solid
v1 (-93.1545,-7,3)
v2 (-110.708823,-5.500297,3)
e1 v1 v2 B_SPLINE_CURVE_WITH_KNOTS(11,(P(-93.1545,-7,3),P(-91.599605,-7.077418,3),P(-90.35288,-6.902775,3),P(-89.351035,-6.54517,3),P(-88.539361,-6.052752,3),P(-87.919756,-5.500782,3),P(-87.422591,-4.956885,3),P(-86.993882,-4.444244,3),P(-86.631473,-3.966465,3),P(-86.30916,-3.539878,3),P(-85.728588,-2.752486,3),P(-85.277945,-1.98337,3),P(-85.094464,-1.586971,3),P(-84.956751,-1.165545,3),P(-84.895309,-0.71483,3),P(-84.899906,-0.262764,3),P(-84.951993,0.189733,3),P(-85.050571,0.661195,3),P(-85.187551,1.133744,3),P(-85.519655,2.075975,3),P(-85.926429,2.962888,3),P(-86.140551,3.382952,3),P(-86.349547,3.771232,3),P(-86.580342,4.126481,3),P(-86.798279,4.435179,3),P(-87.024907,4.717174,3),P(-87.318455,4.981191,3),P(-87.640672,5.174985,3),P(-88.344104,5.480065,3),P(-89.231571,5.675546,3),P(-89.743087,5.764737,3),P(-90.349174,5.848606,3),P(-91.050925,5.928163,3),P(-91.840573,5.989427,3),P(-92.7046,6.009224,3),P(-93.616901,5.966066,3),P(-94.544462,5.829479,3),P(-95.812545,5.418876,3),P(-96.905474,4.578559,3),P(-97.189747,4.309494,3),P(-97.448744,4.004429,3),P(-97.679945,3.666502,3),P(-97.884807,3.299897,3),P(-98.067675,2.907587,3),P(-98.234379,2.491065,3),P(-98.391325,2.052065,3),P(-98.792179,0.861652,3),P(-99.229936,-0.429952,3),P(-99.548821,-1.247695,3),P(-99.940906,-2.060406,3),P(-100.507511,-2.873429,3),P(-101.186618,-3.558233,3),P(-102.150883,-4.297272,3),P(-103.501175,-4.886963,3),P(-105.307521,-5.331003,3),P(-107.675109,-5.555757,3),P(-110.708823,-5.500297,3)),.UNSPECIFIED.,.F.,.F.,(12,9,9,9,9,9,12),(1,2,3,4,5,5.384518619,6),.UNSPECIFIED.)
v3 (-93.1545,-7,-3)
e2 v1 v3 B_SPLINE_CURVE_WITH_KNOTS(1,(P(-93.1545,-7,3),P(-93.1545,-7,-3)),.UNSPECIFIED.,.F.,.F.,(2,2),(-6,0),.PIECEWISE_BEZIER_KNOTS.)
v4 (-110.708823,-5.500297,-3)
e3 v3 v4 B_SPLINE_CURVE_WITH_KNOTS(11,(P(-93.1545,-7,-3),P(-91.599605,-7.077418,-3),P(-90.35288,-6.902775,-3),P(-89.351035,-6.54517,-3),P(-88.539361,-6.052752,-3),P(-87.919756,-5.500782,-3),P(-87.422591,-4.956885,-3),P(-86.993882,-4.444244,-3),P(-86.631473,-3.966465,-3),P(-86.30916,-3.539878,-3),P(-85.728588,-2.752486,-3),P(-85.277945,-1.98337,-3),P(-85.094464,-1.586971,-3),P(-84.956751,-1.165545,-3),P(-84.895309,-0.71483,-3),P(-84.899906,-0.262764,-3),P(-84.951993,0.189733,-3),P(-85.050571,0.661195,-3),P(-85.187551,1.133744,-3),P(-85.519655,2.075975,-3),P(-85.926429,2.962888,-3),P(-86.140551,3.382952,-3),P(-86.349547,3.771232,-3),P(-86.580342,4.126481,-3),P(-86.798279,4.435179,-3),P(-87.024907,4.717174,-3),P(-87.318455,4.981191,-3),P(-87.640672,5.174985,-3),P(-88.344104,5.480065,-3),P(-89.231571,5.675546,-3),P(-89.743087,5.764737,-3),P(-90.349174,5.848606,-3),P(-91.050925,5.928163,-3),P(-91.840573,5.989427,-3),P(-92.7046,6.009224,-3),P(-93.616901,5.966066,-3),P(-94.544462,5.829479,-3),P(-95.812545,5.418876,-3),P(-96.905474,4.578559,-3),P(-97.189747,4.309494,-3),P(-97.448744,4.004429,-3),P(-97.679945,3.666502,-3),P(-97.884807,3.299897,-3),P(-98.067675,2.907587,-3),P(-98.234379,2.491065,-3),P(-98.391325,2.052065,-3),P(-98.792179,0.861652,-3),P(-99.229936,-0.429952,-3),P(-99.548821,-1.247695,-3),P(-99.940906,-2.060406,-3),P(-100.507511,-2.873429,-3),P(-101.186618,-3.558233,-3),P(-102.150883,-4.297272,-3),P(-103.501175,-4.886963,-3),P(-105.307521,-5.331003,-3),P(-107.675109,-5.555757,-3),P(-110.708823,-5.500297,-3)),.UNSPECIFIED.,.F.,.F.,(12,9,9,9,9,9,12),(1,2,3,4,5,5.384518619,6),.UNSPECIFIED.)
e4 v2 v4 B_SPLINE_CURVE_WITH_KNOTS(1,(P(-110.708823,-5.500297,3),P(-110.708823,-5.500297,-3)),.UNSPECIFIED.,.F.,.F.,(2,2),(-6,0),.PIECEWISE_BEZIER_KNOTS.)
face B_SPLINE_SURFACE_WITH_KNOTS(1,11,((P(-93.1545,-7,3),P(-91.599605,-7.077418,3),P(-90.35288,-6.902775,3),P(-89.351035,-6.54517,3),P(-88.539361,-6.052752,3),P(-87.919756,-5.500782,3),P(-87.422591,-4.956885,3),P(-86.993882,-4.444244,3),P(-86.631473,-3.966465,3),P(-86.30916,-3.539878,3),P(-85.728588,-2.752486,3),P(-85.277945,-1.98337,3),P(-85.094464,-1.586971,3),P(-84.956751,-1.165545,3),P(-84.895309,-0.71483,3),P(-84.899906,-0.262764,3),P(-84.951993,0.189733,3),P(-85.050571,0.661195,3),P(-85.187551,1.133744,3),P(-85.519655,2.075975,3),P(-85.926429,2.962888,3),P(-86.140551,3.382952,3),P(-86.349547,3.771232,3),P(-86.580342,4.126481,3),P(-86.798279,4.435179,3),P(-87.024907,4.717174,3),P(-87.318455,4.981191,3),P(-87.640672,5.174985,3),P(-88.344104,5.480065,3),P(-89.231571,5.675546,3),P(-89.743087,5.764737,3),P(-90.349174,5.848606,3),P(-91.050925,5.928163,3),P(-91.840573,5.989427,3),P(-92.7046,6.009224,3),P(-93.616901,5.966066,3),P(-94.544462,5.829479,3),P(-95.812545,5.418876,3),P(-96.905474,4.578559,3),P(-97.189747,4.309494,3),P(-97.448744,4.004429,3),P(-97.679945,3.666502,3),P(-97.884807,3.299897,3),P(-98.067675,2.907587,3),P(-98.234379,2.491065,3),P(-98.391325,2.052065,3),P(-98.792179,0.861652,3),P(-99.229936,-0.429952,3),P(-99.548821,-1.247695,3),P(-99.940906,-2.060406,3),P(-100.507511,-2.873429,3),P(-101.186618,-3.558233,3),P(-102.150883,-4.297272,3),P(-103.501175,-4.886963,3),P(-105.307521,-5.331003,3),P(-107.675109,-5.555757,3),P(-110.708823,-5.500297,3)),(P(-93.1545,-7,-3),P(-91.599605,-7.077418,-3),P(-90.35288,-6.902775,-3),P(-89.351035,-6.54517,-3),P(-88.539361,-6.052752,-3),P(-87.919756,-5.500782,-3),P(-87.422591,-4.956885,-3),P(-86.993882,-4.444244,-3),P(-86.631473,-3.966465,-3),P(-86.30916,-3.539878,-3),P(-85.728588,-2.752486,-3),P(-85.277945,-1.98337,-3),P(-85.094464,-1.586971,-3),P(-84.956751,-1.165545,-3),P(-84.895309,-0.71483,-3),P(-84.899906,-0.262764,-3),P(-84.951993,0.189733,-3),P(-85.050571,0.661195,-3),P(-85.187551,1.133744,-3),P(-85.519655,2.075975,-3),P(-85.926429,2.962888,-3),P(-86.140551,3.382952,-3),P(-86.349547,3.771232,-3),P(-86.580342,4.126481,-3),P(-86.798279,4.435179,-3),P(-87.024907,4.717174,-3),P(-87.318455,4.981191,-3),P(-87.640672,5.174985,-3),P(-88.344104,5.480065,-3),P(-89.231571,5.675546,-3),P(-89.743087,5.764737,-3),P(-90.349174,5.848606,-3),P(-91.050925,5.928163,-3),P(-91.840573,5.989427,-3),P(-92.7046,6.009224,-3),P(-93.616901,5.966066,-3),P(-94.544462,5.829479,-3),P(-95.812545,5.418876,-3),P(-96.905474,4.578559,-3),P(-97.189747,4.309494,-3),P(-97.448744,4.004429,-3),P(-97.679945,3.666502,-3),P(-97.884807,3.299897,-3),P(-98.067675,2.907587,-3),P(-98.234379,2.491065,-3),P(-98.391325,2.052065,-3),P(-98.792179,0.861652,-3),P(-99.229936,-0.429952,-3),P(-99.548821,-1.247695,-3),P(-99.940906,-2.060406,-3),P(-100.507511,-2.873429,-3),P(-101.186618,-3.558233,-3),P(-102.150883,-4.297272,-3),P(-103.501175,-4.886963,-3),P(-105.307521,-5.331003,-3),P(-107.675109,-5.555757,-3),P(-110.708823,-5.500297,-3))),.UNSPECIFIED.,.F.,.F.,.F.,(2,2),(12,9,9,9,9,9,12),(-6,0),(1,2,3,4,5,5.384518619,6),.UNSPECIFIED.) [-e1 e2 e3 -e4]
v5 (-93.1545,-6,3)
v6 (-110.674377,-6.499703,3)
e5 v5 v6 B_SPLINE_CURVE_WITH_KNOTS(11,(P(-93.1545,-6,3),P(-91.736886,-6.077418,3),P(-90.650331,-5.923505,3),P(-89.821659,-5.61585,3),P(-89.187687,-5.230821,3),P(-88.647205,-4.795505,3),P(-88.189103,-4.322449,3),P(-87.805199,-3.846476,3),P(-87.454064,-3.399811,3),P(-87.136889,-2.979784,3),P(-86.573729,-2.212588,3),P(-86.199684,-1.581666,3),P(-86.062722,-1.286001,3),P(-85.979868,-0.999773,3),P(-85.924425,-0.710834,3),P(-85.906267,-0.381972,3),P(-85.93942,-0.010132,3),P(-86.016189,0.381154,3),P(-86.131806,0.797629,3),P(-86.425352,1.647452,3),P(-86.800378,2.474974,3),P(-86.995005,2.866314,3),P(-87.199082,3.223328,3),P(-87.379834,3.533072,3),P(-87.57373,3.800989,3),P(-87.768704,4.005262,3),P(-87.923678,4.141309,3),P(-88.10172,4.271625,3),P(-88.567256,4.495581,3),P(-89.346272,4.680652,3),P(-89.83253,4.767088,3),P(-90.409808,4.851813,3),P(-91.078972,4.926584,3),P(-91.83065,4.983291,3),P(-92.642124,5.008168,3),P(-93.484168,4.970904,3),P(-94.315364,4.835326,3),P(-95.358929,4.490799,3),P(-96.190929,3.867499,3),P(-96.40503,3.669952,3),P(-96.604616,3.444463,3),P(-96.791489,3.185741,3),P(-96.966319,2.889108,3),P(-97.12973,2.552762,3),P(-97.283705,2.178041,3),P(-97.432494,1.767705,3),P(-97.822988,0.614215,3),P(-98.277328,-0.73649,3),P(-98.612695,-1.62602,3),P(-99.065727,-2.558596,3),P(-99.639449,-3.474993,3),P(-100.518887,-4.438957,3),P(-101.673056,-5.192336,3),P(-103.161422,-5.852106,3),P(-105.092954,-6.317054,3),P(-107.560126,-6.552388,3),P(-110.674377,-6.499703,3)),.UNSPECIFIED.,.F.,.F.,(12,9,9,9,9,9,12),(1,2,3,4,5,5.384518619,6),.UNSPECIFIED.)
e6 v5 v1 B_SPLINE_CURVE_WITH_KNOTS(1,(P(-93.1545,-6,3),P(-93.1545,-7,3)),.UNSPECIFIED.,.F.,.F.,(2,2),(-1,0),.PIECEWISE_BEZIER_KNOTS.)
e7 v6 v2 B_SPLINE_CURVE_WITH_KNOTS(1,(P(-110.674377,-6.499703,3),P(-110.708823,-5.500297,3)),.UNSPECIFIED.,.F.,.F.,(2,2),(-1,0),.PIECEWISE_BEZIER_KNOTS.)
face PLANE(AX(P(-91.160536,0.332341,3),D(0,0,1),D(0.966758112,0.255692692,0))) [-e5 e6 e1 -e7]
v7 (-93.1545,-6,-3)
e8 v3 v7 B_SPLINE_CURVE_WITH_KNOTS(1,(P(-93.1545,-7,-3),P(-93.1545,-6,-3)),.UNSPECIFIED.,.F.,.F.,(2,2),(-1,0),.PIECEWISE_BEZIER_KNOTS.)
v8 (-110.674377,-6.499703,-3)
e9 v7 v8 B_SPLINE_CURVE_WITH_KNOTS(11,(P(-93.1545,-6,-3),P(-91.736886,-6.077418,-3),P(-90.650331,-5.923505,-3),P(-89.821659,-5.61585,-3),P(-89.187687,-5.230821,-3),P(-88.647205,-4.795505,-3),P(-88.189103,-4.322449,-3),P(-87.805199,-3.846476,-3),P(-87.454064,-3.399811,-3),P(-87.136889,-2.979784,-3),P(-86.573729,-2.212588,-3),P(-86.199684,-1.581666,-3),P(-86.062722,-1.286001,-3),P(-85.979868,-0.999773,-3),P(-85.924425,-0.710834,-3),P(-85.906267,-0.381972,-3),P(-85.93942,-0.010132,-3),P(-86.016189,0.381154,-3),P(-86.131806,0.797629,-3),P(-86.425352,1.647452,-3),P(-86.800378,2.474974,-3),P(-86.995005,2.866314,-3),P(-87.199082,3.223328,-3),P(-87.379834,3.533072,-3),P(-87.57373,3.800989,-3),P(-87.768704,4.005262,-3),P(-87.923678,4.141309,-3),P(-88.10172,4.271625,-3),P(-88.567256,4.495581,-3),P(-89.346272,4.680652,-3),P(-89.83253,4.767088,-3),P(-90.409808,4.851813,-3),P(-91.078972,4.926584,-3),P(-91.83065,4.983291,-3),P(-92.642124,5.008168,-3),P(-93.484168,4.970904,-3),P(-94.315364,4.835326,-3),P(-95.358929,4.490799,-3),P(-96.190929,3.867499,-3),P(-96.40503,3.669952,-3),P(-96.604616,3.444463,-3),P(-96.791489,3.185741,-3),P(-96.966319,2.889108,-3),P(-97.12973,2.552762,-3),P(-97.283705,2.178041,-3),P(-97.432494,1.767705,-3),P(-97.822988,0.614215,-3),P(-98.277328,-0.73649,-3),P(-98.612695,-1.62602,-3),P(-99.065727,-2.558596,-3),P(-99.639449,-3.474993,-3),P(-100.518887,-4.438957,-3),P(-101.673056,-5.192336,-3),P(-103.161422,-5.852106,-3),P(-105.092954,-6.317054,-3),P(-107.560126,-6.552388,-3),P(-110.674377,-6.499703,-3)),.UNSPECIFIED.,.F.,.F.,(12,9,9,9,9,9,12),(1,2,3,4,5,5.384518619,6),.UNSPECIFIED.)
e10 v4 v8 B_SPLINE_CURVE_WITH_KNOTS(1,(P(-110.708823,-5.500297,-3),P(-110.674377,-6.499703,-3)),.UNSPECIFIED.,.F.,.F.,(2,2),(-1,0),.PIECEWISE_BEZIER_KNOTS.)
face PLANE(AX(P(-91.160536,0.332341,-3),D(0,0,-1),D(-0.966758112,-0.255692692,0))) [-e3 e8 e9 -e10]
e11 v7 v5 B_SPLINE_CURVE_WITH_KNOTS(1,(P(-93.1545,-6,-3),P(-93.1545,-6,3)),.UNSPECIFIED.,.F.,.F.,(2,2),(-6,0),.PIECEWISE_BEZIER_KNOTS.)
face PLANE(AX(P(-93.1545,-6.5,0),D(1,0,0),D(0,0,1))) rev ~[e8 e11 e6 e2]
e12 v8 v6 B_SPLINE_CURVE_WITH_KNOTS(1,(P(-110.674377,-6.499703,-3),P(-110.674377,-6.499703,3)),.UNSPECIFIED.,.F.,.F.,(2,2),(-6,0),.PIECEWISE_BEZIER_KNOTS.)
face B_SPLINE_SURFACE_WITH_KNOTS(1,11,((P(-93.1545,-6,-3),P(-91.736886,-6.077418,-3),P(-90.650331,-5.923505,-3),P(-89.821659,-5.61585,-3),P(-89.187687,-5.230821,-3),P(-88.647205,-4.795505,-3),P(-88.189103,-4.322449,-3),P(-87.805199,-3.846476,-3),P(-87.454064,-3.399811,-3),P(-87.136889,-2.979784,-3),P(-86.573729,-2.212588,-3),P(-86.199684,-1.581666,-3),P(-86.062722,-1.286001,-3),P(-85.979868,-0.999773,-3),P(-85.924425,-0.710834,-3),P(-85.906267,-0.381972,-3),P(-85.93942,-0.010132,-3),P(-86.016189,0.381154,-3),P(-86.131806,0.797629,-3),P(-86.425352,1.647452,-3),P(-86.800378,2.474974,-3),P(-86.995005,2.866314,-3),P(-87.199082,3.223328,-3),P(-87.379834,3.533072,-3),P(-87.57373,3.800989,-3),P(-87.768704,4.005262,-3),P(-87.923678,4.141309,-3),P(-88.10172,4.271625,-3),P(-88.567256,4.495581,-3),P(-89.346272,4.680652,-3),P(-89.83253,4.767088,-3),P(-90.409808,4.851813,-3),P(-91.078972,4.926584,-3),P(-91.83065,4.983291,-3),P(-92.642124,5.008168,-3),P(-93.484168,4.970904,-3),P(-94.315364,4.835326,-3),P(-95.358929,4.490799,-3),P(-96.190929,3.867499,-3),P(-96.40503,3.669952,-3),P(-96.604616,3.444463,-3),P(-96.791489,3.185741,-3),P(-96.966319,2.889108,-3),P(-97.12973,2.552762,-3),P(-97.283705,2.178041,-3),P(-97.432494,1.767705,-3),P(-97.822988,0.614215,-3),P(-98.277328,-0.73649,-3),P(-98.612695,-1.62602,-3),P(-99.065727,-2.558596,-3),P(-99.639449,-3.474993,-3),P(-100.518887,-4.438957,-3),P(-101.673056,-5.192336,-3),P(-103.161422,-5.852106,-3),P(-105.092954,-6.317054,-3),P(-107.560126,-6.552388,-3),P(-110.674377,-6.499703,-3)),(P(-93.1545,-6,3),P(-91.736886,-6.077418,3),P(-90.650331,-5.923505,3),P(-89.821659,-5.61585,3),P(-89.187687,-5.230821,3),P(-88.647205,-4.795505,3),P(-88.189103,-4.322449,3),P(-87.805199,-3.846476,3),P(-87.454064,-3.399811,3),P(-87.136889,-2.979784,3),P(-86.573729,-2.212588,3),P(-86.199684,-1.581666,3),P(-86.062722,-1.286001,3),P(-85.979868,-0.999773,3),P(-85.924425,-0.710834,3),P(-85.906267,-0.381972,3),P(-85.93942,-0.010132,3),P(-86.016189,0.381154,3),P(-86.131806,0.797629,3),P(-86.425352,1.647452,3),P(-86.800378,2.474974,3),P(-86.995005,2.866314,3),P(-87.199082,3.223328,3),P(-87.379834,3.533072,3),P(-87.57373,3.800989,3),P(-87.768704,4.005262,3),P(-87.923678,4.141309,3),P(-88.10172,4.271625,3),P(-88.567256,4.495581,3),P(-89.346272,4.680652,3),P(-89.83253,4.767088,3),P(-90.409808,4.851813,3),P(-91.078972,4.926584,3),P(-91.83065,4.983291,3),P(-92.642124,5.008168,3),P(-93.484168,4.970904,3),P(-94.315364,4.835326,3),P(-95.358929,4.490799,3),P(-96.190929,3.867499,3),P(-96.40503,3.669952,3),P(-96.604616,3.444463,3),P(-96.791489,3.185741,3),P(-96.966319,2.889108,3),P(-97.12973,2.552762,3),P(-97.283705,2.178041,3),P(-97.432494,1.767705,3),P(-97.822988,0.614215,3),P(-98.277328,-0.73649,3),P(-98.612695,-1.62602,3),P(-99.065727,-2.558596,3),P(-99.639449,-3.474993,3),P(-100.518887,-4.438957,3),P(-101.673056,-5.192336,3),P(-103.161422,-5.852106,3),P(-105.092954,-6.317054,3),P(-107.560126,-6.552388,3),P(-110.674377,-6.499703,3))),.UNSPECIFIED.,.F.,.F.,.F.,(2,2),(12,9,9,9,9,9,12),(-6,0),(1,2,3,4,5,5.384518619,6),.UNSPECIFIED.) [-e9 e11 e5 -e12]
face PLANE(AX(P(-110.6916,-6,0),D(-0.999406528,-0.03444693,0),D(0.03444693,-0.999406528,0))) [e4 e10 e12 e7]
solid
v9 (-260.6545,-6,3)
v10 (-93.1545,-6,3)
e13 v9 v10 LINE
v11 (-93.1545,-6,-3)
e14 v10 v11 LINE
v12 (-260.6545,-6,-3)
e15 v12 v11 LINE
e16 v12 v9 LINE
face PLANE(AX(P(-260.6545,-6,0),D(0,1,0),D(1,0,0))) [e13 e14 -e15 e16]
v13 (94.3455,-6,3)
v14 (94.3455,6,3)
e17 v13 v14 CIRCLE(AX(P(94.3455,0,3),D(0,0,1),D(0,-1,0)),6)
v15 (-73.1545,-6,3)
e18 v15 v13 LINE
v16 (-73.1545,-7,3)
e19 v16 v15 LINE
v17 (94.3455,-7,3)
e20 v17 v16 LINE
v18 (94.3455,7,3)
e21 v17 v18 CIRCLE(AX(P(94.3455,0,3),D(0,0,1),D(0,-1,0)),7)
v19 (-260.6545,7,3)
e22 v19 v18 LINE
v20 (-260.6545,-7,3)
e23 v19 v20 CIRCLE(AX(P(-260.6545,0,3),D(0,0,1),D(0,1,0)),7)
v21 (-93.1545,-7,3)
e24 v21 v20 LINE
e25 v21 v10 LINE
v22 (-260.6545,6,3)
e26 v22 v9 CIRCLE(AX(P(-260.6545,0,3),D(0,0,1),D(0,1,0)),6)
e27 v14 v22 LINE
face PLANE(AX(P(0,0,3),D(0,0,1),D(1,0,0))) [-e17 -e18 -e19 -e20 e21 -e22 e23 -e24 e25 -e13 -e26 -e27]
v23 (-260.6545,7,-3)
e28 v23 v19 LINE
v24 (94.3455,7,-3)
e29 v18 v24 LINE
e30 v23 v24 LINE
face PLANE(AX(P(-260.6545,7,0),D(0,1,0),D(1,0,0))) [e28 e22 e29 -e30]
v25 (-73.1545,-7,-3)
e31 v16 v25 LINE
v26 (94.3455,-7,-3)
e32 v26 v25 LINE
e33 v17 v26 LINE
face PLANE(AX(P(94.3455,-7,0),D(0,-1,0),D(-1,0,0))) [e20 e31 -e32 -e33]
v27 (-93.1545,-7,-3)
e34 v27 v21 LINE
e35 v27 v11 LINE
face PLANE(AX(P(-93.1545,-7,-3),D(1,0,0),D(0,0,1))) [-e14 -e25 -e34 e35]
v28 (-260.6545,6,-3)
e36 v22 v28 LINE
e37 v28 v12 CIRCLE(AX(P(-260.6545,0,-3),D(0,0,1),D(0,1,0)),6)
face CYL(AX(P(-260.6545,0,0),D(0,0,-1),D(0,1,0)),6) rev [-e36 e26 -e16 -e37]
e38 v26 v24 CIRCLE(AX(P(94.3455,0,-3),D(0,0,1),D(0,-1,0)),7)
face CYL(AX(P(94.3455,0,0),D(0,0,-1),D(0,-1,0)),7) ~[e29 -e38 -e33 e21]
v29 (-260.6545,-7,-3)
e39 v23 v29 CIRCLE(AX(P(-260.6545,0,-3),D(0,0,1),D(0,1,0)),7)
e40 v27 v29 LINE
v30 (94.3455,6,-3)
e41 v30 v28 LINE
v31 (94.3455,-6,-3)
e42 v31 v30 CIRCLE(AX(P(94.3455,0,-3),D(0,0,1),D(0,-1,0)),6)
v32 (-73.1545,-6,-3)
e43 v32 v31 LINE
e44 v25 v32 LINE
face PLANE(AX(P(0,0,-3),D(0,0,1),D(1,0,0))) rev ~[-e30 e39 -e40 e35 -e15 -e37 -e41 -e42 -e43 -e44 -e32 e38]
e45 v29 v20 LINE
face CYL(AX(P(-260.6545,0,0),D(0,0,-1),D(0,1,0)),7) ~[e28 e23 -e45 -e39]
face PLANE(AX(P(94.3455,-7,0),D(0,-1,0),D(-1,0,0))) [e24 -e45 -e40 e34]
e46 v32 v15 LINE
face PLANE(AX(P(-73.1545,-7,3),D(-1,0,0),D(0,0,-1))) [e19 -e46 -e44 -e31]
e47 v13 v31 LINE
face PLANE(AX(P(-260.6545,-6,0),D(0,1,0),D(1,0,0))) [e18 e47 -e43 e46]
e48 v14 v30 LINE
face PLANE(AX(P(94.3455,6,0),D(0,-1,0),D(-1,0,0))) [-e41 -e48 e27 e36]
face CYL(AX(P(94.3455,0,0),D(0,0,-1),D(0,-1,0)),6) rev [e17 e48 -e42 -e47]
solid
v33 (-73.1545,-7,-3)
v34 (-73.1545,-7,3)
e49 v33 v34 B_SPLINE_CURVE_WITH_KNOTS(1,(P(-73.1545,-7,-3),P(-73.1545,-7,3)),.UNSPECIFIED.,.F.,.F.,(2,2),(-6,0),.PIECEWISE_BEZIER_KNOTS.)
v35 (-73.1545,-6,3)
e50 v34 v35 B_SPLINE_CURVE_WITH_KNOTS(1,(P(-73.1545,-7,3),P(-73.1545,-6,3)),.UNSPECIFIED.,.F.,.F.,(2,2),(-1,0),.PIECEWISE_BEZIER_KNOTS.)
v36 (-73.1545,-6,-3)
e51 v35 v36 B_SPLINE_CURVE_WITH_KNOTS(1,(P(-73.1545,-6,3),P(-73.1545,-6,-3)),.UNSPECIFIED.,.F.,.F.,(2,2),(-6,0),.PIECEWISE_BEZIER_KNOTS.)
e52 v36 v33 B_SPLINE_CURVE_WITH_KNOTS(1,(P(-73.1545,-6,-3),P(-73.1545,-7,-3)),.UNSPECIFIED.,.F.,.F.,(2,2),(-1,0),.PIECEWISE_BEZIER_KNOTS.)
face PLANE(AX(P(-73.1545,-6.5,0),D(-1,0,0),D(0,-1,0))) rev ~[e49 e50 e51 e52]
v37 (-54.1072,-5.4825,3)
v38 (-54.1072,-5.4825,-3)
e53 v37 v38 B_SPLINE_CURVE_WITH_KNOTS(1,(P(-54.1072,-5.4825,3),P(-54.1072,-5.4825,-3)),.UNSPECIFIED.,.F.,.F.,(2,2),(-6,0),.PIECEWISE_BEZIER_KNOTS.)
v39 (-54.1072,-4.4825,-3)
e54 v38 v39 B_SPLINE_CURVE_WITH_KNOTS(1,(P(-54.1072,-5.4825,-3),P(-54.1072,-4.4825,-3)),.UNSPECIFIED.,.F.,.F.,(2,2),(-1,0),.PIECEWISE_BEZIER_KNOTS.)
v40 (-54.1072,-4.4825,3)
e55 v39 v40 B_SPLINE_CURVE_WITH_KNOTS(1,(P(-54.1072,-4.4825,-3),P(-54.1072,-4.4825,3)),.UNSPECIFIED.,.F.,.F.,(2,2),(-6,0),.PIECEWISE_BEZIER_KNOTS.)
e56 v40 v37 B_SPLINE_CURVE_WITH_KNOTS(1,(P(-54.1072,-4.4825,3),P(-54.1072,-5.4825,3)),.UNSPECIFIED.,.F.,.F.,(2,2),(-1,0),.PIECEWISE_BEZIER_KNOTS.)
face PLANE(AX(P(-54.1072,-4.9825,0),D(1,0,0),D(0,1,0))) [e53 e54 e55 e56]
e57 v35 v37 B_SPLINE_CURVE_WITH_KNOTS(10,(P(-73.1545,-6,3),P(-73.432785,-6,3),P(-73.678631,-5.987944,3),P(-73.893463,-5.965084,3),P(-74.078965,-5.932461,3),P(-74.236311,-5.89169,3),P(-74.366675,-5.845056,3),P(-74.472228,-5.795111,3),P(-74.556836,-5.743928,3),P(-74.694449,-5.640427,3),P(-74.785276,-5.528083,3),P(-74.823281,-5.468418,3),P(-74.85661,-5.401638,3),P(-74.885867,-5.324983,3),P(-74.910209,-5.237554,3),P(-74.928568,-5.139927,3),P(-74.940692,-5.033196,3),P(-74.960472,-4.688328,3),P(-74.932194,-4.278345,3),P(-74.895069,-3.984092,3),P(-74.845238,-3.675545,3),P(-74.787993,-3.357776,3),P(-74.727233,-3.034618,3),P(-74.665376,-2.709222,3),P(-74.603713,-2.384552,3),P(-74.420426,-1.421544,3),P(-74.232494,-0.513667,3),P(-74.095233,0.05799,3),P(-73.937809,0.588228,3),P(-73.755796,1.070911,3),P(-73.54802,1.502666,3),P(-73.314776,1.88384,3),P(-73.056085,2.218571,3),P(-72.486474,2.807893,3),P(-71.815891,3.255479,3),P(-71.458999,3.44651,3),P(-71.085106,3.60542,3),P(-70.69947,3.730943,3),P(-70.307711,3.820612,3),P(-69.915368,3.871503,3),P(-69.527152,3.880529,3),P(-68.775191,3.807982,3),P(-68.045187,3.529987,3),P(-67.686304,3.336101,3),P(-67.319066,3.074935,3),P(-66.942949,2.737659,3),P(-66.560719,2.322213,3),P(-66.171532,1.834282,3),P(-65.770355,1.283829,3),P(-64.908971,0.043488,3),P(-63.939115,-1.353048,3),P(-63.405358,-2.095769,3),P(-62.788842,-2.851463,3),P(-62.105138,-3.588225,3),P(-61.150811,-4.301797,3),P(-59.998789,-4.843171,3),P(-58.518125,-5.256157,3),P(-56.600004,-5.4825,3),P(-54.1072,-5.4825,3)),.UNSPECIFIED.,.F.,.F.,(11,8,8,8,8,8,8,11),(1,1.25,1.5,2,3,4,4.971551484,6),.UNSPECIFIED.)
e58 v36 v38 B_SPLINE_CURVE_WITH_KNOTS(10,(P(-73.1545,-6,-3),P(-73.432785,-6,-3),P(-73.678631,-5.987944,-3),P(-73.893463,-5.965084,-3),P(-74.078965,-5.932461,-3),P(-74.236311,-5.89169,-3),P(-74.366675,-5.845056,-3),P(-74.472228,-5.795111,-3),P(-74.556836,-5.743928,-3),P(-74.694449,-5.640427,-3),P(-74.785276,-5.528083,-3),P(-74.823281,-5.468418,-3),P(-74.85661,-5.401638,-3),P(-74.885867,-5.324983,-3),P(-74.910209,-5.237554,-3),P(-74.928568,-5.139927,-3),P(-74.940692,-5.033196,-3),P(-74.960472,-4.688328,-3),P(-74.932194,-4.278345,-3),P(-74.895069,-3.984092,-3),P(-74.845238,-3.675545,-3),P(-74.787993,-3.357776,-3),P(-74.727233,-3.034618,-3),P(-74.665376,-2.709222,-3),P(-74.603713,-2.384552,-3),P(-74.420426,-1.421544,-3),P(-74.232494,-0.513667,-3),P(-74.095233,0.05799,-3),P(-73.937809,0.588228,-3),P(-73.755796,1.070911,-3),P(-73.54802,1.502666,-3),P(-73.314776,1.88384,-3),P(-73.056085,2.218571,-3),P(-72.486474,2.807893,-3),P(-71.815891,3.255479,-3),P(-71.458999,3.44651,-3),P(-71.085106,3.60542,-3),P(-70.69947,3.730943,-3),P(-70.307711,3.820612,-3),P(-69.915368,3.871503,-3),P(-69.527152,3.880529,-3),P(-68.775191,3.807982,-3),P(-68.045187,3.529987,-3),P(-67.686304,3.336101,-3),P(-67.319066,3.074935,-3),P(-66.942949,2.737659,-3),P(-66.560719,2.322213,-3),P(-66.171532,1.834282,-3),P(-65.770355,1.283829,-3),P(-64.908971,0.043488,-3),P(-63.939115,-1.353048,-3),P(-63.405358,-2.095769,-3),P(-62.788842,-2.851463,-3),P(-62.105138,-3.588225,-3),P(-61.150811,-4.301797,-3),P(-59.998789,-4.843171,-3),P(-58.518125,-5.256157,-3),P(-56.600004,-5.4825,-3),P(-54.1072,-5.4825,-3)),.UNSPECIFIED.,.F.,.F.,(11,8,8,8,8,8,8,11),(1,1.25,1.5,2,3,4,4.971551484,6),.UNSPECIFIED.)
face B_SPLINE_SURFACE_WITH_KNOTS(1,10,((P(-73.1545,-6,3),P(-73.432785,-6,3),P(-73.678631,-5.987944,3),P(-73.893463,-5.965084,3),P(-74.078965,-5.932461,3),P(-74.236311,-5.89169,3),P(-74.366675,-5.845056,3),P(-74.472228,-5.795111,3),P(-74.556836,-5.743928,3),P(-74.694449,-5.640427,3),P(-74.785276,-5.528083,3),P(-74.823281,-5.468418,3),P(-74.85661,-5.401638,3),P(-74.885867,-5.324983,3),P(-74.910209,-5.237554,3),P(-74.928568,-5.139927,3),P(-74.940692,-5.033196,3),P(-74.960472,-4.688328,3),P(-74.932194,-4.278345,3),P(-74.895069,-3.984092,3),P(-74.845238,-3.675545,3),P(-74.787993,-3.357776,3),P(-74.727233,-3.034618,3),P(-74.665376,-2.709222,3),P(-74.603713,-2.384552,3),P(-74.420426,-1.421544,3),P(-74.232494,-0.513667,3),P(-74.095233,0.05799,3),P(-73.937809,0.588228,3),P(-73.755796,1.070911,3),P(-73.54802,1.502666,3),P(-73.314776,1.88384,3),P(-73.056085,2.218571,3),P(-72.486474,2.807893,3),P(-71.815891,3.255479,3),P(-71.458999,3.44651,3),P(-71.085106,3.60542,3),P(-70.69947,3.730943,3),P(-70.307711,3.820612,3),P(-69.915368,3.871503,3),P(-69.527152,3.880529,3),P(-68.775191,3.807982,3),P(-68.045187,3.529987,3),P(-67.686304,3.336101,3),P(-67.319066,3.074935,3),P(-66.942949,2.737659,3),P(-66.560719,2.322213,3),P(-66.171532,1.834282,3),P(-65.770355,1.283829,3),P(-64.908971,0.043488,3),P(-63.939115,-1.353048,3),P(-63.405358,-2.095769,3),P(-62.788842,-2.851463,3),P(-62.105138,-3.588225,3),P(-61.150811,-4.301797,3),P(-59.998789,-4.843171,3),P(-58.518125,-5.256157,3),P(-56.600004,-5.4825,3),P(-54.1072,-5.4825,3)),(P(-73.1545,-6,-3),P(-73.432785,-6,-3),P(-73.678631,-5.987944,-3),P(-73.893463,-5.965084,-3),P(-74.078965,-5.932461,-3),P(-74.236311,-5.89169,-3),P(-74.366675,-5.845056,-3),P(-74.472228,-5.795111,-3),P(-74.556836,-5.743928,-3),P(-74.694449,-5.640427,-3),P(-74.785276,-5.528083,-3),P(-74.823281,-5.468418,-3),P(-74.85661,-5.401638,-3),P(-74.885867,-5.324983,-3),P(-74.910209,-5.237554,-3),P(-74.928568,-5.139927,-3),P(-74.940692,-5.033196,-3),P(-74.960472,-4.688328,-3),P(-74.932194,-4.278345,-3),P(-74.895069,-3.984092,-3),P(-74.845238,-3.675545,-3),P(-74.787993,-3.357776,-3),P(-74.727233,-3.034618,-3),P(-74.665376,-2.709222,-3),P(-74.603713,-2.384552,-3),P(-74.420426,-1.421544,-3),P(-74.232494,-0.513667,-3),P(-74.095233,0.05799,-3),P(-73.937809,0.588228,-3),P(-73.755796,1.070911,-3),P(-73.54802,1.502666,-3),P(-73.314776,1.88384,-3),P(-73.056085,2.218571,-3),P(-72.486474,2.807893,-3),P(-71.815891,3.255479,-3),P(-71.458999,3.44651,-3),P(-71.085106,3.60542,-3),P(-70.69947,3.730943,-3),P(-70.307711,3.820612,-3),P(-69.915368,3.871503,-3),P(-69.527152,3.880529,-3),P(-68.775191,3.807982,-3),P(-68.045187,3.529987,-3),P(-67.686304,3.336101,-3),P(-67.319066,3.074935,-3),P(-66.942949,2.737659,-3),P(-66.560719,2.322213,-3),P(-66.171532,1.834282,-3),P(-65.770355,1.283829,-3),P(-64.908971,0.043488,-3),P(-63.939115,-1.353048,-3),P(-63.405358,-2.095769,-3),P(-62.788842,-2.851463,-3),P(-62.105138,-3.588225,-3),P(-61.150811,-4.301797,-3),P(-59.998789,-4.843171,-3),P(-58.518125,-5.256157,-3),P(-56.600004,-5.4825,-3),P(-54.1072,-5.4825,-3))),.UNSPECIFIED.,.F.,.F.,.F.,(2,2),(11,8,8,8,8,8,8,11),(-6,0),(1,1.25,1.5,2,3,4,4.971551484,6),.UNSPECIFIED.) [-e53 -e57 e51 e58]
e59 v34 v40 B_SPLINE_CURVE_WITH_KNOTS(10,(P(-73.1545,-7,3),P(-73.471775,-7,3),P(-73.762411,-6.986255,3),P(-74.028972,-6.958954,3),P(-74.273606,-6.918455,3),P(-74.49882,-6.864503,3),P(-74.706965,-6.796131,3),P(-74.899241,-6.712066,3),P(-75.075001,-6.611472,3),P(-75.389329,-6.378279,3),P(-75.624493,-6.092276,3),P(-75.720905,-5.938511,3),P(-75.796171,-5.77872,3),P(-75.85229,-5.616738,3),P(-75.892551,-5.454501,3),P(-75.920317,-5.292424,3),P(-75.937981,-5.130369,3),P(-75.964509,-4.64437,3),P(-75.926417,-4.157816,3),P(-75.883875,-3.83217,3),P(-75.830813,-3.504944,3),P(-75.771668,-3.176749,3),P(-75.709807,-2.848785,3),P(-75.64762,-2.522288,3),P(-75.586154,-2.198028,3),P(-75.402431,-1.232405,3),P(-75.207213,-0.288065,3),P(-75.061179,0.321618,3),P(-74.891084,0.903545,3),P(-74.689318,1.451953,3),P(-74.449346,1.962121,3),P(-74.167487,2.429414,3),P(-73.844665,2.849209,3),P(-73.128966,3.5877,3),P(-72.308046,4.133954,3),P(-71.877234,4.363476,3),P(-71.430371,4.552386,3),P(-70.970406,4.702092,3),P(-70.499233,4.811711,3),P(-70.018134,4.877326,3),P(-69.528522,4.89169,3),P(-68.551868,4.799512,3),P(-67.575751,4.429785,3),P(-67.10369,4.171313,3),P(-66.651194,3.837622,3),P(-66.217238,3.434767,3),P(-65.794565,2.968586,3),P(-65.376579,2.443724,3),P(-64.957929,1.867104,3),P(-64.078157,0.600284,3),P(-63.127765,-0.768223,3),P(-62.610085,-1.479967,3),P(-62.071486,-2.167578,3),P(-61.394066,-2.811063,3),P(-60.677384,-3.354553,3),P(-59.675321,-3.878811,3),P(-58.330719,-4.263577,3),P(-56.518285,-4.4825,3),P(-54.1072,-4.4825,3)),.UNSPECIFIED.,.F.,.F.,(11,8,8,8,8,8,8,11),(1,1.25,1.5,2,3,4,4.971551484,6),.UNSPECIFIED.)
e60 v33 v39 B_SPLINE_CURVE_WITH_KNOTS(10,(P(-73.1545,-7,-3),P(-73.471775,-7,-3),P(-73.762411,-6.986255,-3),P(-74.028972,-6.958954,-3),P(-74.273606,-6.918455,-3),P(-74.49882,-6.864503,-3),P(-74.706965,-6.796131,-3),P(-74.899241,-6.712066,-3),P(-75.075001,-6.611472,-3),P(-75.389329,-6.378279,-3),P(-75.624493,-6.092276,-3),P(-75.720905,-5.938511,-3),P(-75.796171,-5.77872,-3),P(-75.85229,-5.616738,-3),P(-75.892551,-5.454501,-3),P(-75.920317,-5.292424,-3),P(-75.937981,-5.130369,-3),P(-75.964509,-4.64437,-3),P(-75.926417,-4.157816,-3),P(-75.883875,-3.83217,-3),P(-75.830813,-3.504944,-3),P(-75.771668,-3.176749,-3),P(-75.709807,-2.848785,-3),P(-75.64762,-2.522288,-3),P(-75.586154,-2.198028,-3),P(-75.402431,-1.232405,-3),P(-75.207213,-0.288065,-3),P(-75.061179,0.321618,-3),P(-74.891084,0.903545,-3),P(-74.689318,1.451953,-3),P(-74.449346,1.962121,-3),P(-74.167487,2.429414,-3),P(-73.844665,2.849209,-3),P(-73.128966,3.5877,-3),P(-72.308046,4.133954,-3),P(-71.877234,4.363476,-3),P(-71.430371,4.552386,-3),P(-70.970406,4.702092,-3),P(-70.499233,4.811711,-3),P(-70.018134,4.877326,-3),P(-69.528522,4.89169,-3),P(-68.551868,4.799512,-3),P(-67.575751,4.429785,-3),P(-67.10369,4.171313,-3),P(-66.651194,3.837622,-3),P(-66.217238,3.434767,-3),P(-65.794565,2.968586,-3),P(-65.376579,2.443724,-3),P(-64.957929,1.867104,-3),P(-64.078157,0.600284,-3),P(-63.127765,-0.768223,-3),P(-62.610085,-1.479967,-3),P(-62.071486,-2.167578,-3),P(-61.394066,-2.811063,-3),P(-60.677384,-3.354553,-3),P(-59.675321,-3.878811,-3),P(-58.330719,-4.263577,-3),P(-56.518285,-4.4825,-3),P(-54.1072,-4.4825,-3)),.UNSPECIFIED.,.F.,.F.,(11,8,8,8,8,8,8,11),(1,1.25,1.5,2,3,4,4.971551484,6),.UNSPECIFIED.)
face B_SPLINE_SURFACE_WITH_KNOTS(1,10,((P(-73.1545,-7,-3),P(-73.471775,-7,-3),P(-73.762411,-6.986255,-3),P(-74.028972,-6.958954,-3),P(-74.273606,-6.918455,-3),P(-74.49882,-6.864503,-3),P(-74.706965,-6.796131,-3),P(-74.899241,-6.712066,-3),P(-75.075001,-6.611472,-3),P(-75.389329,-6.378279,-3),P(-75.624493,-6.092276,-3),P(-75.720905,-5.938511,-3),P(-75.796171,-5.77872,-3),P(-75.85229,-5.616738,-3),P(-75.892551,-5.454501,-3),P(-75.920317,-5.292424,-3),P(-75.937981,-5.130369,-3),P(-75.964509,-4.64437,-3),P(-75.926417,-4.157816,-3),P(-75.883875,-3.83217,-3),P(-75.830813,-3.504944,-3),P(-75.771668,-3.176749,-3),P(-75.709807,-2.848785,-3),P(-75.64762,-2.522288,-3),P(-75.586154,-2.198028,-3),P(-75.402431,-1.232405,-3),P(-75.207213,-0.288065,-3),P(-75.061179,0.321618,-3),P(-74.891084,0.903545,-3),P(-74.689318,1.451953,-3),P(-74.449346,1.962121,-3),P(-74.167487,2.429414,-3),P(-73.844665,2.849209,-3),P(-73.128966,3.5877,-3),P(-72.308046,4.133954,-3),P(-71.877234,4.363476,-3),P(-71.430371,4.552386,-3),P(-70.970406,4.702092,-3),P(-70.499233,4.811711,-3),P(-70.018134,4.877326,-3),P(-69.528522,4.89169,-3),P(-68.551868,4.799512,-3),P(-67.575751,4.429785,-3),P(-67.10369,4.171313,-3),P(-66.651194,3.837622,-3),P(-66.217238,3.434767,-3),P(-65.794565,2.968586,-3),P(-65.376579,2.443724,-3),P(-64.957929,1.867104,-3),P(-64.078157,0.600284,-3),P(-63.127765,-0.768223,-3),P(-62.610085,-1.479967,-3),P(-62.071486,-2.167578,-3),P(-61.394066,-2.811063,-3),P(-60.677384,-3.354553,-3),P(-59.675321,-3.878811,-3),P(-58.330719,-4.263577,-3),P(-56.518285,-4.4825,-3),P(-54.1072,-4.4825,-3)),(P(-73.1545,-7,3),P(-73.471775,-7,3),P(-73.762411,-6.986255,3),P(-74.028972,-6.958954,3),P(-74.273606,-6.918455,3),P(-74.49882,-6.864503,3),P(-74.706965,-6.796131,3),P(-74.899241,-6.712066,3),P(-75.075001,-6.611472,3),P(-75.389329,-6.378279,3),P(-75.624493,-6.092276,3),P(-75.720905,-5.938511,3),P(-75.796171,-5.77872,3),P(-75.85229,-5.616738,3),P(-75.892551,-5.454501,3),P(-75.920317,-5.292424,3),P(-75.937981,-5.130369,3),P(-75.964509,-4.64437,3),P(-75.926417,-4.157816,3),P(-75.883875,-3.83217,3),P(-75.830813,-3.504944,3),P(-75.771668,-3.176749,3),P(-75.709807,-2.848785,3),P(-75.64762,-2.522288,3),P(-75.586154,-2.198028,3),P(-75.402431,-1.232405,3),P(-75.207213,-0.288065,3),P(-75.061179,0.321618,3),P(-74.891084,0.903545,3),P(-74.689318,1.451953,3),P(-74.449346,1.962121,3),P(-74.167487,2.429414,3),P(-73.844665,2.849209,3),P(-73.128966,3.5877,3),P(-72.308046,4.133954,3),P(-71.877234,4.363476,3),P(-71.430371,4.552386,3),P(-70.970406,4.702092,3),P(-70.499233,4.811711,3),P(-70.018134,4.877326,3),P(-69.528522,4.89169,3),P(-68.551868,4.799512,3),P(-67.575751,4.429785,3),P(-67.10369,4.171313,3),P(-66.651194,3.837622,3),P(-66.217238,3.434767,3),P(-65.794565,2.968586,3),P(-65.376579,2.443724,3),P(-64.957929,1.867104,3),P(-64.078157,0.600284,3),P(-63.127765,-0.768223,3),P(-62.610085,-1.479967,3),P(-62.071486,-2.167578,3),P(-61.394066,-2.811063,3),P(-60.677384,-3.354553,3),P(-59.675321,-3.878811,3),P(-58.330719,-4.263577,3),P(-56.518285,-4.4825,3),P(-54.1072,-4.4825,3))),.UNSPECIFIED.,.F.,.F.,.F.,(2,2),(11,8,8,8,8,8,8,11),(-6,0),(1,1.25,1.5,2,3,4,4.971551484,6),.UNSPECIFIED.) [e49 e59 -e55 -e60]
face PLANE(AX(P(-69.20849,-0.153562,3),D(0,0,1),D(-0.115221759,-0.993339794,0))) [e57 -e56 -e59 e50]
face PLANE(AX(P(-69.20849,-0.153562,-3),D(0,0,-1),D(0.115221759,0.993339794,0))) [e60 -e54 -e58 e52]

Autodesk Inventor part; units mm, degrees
ref_plane "YZ Plane" through (0, 0, 0) normal (1, 0, 0) x (0, 1, 0)
ref_plane "XZ Plane" through (0, 0, 0) normal (0, 1, 0) x (-1, 0, 0)
ref_plane "XY Plane" through (0, 0, 0) normal (0, 0, 1) x (1, 0, 0)
sketch "Sketch1" plane through (0, 0, 0) normal (0, 0, 1) x (1, 0, 0)
  line L0 (-260.6545, 0) -> (94.3455, 0) construction
  line L1 (-260.6545, -6) -> (94.3455, -6)
  line L2 (94.3455, 6) -> (-260.6545, 6)
  arc A0 (-260.6545, 6) -> (-260.6545, -6) centre (-260.6545, 0) ccw
  arc A1 (94.3455, -6) -> (94.3455, 6) centre (94.3455, 0) ccw
  line L3 (-260.6545, 7) -> (94.3455, 7)
  arc A2 (94.3455, -7) -> (94.3455, 7) centre (94.3455, 0) ccw
  line L4 (94.3455, -7) -> (-260.6545, -7)
  arc A3 (-260.6545, 7) -> (-260.6545, -7) centre (-260.6545, 0) ccw
  point P0 (0, 0)
  point P1 (-83.1545, 0)
  dimension "d0" = 355
  dimension "d1" = 12
  dimension "d2" = 1
extrude "Extrusion1" add sketch "Sketch1" along normal mid plane 6
sketch "Sketch2" plane through (-260.6545, -7, -3) normal (0, -1, 0) x (1, 0, 0)
  line L0 (206.0244, 13.746) -> (201.5244, 13.746) projected
  line L1 (0, 6) -> (355, 6) projected
  line L2 (355, 0) -> (0, 0) projected
  line L3 (167.5, 6) -> (187.5, 6)
  line L4 (187.5, 6) -> (187.5, 0)
  line L5 (187.5, 0) -> (167.5, 0)
  line L6 (167.5, 0) -> (167.5, 6)
  point P0 (177.5, 6)
  point P1 (177.5, 6)
  point P2 (167.5, 6)
  point P3 (167.5, 0)
  point P4 (187.5, 0)
  dimension "d11" = 20
extrude "Extrusion2" cut sketch "Sketch2" against normal blind 6.75
sketch "Sketch8" plane through (-93.1545, -7, 3) normal (1, 0, 0) x (0, 0, -1)
  line L0 (0, 1) -> (6, 1) projected
  line L1 (0, 0) -> (0, 1) projected
  line L2 (6, 0) -> (0, 0) projected
  line L3 (6, 1) -> (6, 0) projected
  point P0 (3, 7)
sketch "Sketch7" plane through (0, 0, 0) normal (0, 0, 1) x (1, 0, 0)
  line L0 (-93.1545, -6) -> (-93.1545, -7) projected
  line L1 (-93.1545, -6.5) -> (-89.0673, -6.7129) construction
  line L2 (-89.0673, -6.7129) -> (-86.7525, -2.7076) construction
  line L3 (-86.7525, -2.7076) -> (-83.9714, -1.5591) construction
  line L4 (-83.9714, -1.5591) -> (-87.6548, 5.441) construction
  line L5 (-87.6548, 5.441) -> (-88.2408, 4.8378) construction
  line L6 (-88.2408, 4.8378) -> (-101.2646, 7.0254) construction
  line L7 (-101.2646, 7.0254) -> (-96.9569, -6.2416) construction
  line L8 (-260.6545, -6) -> (-93.1545, -6) projected
  line L9 (-96.9569, -6.2416) -> (-110.6916, -6) construction
  spline S0 degree 4 poles (-93.1545, -6.5) (-89.0673, -6.7129) (-86.7525, -2.7076) (-83.9714, -1.5591) (-87.6548, 5.441) (-88.2408, 4.8378) (-101.2646, 7.0254) (-96.9569, -6.2416) (-110.6916, -6) knots 1 1 1 1 1 2 3 4 5 6 6 6 6 6
  point P0 (0, 0)
sweep "Sweep3" add profiles "Sketch8" path "Sketch7" separate body path curves S0
sketch "Sketch9" plane through (0, 0, 0) normal (0, 0, 1) x (1, 0, 0)
  line L0 (-73.1545, -6) -> (-73.1545, -7) projected
  line L1 (-73.1545, -6.5) -> (-76.1323, -6.5) construction
  line L2 (-76.1323, -6.5) -> (-74.9986, -3.4039) construction
  line L3 (-74.9986, -3.4039) -> (-74.9986, 2.2319) construction
  line L4 (-74.9986, 2.2319) -> (-70.9519, 4.7064) construction
  line L5 (-70.9519, 4.7064) -> (-66.3126, 4.7064) construction
  line L6 (-66.3126, 4.7064) -> (-63.6682, -1.8252) construction
  line L7 (-63.6682, -1.8252) -> (-60.0675, -4.9825) construction
  line L8 (-60.0675, -4.9825) -> (-54.1072, -4.9825) construction
  spline S0 degree 4 poles (-73.1545, -6.5) (-76.1323, -6.5) (-74.9986, -3.4039) (-74.9986, 2.2319) (-70.9519, 4.7064) (-66.3126, 4.7064) (-63.6682, -1.8252) (-60.0675, -4.9825) (-54.1072, -4.9825) knots 1 1 1 1 1 2 3 4 5 6 6 6 6 6
  point P0 (0, 0)
sketch "Sketch10" plane through (-73.1545, -7, -3) normal (-1, 0, 0) x (0, 0, 1)
  line L0 (0, 1) -> (6, 1) projected
  line L1 (0, 0) -> (0, 1) projected
  line L2 (6, 0) -> (0, 0) projected
  line L3 (6, 1) -> (6, 0) projected
  point P0 (3, 7)
sweep "Sweep4" add profiles "Sketch10" path "Sketch9" separate body path curves S0
properties part number "0005-10-1015 curea x"
